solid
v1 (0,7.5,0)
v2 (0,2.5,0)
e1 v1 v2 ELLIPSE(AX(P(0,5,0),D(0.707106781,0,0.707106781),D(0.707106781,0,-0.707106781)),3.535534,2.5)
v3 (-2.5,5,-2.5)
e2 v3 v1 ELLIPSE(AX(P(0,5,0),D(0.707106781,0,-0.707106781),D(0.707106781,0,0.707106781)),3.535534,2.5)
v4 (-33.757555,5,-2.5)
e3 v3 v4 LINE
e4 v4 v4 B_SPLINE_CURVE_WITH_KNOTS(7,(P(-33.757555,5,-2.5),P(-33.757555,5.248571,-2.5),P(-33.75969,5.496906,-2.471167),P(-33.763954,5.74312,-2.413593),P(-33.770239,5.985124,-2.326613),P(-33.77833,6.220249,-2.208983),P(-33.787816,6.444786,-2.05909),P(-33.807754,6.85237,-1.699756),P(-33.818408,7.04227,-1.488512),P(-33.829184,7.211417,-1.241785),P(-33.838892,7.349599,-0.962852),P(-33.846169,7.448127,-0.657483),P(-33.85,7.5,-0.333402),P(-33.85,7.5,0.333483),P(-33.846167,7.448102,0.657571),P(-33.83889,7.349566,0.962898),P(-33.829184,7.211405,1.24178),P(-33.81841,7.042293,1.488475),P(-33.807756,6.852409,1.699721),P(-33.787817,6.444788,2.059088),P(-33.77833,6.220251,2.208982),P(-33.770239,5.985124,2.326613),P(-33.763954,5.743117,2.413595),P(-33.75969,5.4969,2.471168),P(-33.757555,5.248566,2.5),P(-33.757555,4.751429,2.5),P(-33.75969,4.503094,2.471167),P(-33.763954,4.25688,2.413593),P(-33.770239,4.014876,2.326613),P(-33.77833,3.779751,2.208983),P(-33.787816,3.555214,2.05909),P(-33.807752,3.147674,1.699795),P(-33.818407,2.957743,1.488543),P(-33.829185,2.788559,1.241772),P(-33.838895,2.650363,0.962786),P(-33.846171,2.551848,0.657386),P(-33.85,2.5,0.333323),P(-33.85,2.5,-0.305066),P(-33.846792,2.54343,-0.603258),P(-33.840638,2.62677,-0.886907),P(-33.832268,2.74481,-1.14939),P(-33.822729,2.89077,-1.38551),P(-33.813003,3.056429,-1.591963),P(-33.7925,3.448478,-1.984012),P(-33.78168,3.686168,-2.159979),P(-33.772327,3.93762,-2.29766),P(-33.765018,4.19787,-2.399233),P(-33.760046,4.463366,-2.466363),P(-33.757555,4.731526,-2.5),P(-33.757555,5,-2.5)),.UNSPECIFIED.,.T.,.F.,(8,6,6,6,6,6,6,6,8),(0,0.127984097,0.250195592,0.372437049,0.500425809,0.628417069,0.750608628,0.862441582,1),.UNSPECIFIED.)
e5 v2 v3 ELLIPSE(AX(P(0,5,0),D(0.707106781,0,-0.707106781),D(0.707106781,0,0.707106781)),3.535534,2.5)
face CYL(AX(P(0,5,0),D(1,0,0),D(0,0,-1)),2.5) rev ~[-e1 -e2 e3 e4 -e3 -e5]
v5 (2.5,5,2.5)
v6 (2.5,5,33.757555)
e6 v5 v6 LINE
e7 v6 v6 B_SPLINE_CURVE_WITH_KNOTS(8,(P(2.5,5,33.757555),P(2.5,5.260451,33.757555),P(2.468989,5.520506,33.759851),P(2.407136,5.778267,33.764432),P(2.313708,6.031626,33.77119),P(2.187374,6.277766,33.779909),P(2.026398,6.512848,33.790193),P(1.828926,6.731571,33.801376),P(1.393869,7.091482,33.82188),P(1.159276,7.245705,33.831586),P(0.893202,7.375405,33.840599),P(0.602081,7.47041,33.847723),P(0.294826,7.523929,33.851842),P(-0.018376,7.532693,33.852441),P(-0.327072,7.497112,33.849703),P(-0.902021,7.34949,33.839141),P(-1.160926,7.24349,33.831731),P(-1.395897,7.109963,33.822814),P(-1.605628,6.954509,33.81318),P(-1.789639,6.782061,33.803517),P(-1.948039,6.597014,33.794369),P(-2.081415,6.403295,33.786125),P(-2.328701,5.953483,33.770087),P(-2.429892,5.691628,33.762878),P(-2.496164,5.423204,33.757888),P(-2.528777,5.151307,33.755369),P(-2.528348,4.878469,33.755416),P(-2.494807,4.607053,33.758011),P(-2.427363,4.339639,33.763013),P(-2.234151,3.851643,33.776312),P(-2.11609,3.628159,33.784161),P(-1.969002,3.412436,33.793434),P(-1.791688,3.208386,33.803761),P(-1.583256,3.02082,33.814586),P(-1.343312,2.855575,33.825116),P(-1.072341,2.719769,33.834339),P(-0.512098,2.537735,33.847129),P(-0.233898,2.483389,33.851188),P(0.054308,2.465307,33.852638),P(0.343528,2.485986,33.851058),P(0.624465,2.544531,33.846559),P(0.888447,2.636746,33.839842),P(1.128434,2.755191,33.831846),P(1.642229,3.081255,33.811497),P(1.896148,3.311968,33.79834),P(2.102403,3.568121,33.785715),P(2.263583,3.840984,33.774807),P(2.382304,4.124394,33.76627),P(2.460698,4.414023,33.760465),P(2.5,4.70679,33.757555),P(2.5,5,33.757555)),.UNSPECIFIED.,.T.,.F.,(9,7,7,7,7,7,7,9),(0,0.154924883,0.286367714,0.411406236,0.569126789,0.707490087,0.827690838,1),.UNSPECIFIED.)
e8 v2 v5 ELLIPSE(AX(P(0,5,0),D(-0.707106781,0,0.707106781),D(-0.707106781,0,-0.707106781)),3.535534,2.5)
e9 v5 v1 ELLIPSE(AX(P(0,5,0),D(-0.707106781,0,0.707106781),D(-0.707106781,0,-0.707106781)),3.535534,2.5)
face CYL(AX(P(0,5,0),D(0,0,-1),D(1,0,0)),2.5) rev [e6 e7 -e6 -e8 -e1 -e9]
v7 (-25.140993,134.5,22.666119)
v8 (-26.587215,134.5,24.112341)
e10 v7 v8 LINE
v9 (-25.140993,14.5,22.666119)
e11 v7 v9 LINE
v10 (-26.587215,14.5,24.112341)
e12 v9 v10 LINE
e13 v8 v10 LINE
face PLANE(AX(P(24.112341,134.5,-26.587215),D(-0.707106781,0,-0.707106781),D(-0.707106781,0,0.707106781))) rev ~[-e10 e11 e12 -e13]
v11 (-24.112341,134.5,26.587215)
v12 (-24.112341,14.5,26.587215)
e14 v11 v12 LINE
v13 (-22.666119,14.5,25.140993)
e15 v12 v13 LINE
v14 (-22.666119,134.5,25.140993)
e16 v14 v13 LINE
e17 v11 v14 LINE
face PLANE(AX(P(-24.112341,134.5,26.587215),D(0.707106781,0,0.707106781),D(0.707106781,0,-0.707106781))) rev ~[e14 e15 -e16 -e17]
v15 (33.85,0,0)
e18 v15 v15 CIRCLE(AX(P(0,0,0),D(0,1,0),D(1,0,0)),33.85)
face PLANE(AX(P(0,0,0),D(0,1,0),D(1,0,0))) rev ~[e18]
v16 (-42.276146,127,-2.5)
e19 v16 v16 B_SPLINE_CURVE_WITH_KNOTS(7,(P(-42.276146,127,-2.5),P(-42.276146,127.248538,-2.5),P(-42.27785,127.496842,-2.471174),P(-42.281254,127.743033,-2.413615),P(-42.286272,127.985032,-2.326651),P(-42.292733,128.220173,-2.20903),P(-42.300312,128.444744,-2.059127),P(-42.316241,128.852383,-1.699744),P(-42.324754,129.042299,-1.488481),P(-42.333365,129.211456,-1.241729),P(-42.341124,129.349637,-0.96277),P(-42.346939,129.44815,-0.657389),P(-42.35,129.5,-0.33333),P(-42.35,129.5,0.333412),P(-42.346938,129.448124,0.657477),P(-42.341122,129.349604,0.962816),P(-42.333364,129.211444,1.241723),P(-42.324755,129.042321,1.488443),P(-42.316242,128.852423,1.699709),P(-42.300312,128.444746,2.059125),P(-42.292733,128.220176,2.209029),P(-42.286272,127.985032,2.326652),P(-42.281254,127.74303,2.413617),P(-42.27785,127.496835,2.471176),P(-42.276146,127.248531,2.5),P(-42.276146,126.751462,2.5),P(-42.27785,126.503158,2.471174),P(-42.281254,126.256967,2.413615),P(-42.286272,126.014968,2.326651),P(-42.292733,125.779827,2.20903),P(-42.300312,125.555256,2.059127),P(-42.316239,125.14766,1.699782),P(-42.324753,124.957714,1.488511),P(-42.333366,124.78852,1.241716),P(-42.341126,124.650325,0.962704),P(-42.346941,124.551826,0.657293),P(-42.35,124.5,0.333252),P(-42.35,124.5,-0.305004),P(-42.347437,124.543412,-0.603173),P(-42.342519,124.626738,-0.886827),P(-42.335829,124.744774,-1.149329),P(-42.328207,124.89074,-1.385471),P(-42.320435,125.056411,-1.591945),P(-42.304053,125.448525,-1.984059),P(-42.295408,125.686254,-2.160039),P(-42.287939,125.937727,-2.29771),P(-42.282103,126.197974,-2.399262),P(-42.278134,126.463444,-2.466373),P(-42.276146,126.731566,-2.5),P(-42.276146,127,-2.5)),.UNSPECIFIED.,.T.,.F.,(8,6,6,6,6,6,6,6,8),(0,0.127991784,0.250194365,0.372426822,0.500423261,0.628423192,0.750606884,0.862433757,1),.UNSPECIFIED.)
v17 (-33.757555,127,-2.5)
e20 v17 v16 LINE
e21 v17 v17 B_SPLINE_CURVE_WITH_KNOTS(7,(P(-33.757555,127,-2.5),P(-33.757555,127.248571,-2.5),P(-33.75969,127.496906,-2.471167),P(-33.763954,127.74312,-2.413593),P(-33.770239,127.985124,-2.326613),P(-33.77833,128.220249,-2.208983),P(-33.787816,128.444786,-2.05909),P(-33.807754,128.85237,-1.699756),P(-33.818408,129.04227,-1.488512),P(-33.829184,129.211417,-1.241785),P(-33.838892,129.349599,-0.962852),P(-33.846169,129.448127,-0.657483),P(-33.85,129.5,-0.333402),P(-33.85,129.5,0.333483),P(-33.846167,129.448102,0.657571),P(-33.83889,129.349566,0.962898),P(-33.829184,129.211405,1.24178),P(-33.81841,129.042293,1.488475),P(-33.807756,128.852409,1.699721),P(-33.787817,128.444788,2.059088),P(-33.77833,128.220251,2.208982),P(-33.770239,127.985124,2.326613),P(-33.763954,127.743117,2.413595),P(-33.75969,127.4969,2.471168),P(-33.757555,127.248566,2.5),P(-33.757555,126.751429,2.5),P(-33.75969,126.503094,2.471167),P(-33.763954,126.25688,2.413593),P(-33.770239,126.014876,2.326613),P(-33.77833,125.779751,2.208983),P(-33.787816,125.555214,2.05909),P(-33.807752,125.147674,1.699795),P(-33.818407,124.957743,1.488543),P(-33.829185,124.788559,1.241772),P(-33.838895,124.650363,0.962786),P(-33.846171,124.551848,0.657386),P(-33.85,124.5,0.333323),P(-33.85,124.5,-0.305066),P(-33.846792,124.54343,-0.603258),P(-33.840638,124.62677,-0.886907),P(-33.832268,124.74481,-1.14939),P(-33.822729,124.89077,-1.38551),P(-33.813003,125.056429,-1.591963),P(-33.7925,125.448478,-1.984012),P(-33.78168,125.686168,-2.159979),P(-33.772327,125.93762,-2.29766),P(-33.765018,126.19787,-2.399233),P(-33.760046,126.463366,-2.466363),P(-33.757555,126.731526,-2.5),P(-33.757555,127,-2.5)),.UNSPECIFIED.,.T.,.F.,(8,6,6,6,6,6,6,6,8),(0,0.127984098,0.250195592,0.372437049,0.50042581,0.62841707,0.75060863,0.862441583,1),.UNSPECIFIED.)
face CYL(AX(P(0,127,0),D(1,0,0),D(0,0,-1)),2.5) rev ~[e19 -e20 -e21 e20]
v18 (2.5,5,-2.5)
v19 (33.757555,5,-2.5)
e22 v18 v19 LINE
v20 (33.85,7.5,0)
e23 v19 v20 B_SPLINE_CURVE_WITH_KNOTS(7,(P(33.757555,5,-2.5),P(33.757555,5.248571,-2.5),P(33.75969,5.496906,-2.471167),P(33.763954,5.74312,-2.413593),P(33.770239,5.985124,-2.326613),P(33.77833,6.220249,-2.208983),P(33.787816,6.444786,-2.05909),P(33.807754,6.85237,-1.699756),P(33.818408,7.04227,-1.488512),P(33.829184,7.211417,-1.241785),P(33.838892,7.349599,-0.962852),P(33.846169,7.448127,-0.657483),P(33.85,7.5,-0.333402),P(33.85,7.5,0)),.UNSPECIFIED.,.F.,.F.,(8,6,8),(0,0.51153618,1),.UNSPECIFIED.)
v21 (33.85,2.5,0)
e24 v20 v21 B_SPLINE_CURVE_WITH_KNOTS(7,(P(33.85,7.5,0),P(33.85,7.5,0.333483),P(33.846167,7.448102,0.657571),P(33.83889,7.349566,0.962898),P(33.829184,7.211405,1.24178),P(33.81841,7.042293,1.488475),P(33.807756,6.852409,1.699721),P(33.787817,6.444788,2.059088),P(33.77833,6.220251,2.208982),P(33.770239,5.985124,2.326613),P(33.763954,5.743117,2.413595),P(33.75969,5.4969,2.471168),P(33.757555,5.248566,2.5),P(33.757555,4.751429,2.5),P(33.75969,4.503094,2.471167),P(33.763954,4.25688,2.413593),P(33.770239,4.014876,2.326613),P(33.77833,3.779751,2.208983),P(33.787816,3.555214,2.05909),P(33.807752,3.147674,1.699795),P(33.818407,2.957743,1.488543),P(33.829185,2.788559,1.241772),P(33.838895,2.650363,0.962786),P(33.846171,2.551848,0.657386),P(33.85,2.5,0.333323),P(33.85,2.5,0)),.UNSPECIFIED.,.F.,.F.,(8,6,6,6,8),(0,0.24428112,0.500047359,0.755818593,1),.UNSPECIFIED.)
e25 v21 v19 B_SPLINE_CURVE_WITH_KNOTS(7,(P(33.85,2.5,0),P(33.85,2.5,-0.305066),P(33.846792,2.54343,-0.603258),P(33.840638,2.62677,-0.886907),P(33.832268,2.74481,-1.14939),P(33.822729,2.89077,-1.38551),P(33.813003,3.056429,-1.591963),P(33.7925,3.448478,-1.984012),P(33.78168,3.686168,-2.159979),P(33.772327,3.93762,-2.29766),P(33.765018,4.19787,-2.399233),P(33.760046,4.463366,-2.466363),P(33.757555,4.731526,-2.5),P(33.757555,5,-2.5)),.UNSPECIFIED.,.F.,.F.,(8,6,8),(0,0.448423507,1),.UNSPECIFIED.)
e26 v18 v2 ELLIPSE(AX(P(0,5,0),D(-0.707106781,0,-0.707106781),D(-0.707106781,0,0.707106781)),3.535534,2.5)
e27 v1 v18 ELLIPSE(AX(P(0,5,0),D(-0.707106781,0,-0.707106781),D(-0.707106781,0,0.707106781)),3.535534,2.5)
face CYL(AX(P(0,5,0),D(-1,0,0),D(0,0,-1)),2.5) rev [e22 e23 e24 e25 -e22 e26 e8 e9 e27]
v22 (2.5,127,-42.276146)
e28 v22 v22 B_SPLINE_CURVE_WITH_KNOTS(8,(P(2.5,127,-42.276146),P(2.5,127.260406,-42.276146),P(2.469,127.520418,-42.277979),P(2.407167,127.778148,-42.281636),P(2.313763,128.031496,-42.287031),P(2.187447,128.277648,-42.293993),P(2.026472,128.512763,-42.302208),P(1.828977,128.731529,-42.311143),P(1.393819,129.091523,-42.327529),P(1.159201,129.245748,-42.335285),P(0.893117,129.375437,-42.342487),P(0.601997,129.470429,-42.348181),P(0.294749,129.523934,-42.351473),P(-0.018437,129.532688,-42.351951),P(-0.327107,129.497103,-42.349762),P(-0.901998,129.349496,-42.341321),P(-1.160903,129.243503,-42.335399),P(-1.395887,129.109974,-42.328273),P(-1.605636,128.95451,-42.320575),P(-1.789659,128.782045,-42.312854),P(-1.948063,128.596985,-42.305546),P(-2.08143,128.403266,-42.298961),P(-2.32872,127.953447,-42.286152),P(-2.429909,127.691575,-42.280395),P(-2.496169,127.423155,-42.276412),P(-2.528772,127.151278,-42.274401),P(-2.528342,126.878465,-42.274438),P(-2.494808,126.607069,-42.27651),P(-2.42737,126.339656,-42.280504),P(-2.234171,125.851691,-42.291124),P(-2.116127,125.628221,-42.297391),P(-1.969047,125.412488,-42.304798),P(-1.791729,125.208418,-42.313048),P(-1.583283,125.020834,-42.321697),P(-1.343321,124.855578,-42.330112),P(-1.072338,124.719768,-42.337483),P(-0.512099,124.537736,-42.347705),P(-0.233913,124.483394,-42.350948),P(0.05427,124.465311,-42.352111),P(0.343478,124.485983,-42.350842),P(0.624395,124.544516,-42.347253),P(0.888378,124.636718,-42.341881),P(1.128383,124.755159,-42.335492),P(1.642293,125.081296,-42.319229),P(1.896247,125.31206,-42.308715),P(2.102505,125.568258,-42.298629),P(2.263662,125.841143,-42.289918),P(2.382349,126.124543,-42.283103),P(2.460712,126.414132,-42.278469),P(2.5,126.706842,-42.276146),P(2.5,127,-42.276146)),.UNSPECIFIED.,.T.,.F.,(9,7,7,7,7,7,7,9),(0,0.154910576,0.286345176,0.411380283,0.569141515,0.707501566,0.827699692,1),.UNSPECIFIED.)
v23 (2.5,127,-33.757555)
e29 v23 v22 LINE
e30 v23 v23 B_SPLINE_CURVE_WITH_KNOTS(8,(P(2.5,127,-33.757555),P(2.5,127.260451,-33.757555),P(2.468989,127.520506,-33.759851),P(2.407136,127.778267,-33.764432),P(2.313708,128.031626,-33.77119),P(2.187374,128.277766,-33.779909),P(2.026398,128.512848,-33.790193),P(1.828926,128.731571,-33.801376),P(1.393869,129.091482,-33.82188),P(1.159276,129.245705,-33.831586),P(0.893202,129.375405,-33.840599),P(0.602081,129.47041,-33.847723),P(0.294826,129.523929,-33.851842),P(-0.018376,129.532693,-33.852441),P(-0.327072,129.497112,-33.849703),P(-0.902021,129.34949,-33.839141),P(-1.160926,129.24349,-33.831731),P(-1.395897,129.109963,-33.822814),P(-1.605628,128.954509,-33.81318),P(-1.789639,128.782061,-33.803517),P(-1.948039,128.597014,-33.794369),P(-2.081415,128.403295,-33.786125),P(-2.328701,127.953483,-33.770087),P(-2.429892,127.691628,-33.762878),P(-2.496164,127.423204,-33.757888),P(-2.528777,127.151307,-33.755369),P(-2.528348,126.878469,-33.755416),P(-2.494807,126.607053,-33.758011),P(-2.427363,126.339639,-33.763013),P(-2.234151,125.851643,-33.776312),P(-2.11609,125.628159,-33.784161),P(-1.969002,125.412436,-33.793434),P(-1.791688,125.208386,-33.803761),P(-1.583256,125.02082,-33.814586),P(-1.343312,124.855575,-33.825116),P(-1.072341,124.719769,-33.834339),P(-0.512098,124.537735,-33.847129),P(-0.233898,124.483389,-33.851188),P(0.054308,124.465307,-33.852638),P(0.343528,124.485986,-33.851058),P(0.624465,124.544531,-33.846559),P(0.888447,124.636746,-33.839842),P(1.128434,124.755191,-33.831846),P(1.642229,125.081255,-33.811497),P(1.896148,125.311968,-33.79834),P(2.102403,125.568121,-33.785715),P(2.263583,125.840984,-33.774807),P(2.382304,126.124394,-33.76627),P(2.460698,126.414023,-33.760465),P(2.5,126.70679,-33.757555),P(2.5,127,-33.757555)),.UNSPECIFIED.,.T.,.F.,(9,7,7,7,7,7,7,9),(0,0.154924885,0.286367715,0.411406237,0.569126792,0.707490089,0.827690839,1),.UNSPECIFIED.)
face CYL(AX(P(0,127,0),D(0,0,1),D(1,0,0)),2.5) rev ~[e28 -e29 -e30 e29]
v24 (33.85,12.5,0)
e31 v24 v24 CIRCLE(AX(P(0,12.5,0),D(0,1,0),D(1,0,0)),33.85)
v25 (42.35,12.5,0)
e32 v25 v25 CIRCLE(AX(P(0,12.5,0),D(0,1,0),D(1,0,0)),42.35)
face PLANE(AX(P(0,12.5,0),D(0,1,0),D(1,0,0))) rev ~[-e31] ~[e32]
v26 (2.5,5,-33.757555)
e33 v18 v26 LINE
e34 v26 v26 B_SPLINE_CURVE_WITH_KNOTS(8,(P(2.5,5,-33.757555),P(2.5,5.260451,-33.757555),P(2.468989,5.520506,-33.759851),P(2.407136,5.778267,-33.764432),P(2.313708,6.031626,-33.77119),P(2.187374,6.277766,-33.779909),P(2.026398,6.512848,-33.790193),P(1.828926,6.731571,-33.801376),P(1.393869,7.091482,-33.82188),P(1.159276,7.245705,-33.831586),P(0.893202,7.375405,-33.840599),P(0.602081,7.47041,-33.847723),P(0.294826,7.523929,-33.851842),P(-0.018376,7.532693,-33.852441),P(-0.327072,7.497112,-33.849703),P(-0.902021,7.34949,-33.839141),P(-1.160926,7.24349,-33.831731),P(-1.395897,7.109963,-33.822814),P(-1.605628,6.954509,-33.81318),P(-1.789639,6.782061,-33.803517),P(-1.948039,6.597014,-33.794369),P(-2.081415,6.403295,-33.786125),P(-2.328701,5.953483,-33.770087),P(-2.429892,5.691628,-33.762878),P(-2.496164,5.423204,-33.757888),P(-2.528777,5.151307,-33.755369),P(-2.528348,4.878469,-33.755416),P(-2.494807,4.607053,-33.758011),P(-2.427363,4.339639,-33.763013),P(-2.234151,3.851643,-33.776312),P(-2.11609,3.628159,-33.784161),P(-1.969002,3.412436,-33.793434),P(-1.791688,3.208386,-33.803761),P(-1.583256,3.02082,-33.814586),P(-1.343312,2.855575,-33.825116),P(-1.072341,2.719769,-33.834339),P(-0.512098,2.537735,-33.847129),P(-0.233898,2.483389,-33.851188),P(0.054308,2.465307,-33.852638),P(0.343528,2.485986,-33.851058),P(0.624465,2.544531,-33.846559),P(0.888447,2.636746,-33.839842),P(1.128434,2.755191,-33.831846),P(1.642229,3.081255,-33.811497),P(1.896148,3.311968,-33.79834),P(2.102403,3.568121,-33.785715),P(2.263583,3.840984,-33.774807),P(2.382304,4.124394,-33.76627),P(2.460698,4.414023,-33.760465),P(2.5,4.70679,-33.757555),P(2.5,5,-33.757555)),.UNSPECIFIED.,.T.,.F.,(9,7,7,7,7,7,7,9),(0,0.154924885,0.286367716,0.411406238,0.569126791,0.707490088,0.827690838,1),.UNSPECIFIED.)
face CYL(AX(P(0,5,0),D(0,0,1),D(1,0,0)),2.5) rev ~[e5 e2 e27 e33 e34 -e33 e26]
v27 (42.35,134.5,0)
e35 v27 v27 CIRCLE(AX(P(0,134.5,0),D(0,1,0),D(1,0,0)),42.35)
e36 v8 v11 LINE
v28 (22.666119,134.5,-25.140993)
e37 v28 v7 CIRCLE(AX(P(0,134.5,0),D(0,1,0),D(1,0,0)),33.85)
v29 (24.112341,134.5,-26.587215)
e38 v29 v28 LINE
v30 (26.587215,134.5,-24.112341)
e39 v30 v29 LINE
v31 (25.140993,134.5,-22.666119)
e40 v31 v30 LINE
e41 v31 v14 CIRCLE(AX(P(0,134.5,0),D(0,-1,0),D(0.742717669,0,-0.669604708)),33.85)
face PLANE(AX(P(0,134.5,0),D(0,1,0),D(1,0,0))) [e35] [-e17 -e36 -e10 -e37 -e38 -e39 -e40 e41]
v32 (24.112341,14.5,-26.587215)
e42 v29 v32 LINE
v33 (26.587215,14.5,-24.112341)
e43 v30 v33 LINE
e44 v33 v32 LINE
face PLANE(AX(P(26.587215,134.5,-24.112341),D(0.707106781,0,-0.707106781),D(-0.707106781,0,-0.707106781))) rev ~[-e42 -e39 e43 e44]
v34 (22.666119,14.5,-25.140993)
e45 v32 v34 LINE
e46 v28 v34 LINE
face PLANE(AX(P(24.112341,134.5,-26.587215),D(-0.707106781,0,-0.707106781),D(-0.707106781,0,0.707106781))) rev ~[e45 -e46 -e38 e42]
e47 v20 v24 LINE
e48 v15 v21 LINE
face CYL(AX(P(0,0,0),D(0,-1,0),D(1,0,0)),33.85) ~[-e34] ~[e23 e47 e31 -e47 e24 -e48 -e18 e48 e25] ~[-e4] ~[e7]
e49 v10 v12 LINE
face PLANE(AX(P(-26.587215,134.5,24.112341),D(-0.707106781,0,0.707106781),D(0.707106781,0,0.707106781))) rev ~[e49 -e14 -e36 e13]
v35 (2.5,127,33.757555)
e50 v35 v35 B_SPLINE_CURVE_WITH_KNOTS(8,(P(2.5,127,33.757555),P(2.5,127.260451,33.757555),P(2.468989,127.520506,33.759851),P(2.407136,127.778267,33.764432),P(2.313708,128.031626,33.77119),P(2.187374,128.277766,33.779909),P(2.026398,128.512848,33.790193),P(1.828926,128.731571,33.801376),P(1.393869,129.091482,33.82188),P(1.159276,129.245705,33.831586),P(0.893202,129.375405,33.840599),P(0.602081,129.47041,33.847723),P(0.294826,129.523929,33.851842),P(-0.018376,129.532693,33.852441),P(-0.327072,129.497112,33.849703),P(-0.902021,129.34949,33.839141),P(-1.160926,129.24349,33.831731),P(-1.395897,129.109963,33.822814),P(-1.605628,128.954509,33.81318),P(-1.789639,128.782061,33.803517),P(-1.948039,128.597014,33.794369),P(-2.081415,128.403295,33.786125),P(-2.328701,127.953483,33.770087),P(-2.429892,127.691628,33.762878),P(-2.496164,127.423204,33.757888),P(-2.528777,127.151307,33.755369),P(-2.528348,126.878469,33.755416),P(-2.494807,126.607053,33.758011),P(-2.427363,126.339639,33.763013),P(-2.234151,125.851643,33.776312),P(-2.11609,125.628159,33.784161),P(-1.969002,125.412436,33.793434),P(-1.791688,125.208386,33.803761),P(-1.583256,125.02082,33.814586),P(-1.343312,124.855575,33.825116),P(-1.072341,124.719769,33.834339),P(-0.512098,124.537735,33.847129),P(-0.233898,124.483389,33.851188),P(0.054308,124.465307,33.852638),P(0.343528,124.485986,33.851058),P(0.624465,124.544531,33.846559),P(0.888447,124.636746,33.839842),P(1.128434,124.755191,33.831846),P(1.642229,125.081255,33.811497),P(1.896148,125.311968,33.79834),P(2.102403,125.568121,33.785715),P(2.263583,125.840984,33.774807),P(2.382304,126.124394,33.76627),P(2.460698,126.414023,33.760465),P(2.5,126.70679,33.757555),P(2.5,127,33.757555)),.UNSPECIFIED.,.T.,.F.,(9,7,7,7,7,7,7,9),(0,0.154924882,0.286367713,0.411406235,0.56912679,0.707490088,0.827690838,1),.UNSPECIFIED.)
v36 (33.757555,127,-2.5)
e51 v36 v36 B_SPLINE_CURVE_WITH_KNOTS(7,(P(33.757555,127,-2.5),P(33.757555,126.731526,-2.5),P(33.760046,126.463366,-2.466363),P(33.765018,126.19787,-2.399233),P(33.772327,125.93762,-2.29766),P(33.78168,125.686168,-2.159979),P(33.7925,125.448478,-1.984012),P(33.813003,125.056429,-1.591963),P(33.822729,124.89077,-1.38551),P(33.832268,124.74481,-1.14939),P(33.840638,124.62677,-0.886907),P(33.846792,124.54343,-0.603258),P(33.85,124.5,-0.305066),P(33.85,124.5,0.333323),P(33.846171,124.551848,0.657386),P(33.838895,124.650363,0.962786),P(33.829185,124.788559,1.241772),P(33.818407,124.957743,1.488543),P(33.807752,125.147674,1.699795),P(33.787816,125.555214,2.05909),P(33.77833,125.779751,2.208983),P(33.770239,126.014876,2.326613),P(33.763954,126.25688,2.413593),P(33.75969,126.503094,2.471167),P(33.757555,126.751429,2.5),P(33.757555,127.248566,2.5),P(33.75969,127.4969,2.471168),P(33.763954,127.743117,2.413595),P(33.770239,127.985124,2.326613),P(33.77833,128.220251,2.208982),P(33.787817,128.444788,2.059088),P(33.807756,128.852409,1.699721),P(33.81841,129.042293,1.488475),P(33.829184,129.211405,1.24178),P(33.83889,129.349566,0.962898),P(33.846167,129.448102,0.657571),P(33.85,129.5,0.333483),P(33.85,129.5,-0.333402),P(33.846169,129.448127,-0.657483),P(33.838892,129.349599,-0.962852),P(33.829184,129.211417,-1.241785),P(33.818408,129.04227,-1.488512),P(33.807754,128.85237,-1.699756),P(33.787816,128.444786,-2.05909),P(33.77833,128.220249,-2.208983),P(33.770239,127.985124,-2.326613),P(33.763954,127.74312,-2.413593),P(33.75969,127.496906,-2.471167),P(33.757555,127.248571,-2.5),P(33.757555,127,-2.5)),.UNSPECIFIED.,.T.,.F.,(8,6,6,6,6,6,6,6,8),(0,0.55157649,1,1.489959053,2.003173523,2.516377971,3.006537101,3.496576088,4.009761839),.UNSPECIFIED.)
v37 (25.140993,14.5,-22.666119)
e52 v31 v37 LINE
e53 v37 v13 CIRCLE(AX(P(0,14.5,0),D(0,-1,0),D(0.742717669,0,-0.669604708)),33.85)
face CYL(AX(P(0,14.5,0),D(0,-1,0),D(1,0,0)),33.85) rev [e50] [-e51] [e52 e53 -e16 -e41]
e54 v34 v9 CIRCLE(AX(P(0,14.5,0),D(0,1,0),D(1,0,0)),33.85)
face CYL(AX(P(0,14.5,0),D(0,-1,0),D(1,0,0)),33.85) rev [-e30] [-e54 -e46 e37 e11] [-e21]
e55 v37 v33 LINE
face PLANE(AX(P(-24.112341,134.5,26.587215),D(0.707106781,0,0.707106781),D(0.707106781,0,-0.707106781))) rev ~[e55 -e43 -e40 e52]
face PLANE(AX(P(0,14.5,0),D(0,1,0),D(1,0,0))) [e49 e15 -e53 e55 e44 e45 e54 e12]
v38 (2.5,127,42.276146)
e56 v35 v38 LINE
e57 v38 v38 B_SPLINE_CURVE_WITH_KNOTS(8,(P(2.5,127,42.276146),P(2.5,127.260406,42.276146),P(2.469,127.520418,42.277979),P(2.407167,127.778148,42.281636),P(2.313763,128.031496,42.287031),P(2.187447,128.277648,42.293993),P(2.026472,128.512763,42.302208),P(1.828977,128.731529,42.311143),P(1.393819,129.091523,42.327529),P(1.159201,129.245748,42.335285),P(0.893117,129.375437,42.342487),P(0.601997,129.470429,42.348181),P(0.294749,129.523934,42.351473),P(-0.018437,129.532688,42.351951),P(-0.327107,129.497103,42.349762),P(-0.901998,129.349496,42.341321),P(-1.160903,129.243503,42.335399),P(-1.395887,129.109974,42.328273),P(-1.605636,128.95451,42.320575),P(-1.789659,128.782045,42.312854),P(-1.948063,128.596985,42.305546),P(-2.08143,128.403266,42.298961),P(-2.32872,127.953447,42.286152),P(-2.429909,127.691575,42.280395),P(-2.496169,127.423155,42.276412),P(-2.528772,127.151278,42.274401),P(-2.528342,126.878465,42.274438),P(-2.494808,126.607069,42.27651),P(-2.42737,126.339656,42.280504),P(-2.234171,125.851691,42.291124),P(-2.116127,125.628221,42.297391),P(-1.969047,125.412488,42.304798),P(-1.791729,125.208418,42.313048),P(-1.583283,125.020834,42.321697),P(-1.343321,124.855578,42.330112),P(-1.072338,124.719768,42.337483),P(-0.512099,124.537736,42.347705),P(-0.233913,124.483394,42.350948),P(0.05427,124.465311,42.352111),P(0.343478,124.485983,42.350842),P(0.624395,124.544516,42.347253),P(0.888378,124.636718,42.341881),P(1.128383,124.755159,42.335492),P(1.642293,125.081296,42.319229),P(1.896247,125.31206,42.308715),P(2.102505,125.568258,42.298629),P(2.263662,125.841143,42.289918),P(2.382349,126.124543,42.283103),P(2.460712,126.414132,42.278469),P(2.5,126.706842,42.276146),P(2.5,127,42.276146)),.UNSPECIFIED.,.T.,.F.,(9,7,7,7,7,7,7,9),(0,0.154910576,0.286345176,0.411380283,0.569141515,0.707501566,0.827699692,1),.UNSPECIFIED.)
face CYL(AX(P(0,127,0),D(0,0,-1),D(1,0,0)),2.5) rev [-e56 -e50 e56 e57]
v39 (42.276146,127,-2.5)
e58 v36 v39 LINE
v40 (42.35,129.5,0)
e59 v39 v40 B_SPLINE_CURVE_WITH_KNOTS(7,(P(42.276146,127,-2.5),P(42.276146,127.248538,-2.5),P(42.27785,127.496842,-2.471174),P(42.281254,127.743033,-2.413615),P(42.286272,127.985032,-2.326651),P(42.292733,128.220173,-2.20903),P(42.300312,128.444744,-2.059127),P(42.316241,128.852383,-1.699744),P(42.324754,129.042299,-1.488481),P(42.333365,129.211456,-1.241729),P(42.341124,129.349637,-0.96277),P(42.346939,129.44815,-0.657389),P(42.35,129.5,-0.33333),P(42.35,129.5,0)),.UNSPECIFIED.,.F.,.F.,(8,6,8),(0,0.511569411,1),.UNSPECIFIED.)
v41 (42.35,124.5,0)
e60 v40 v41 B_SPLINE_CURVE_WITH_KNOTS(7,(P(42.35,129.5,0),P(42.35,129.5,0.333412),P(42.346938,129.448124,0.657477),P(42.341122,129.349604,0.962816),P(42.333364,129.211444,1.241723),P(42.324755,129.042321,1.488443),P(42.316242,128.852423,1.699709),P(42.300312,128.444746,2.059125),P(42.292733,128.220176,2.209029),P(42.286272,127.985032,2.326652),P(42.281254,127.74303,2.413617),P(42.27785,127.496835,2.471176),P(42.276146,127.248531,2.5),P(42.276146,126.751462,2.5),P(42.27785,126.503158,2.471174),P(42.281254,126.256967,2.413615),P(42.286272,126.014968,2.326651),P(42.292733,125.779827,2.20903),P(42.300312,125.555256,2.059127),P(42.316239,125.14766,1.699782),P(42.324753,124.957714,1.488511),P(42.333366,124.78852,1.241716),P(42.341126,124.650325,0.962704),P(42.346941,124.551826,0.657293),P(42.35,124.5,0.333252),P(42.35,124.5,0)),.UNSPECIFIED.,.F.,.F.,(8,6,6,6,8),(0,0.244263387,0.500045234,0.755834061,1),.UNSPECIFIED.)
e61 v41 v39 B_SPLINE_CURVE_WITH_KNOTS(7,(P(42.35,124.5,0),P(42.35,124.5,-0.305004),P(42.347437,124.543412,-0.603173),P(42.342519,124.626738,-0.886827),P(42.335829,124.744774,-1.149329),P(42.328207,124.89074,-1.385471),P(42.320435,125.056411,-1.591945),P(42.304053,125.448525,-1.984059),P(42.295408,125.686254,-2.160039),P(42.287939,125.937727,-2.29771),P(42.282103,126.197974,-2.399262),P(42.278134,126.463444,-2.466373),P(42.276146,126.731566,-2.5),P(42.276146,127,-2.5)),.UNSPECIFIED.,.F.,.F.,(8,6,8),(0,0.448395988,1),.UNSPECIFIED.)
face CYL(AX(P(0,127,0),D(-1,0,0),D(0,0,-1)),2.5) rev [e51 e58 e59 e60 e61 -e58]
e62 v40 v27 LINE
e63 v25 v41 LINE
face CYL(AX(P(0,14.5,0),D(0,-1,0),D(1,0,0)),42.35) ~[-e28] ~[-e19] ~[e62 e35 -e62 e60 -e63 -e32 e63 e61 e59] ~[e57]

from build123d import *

# Parameters (mm, degrees)
SKETCH1_R               = 33.85
BOSS_EXTRUDE1_DEPTH     = 12.5
SKETCH2_R               = 2.5
CUT_EXTRUDE1_DEPTH      = 34.85
CUT_EXTRUDE1_DEPTH_BACK = 34.85
SKETCH3_R               = 2.5
CUT_EXTRUDE2_DEPTH      = 34.8500001
CUT_EXTRUDE2_DEPTH_BACK = 34.8500001
SKETCH4_R               = 42.35
BOSS_EXTRUDE2_DEPTH     = 2
SKETCH5_R               = 42.35
SKETCH5_R_2             = 33.85
BOSS_EXTRUDE3_DEPTH     = 120
SKETCH6_R               = 2.5
CUT_EXTRUDE3_DEPTH      = 43.35
CUT_EXTRUDE3_DEPTH_BACK = 43.35
SKETCH7_R               = 2.5
CUT_EXTRUDE4_DEPTH      = 43.3500001
CUT_EXTRUDE4_DEPTH_BACK = 43.3500001
CUT_EXTRUDE5_DEPTH      = 120


with BuildPart() as part:
    # Sketch1 → Boss-Extrude1 (new body)
    with BuildSketch(Plane(origin=(0, 0, 0), x_dir=(1, 0, 0), z_dir=(0, 1, 0))):
        Circle(SKETCH1_R)
    extrude(amount=BOSS_EXTRUDE1_DEPTH)

    # Sketch2 → Cut-Extrude1 (cut, two sides)
    with BuildSketch(Plane(origin=(0, 0, 0), x_dir=(0, 0, -1), z_dir=(1, 0, 0))) as cut_extrude1_sk:
        with Locations((0, 5)):
            Circle(SKETCH2_R)
    extrude(amount=CUT_EXTRUDE1_DEPTH, mode=Mode.SUBTRACT)
    extrude(cut_extrude1_sk.sketch, amount=-CUT_EXTRUDE1_DEPTH_BACK, mode=Mode.SUBTRACT)

    # Sketch3 → Cut-Extrude2 (cut, two sides)
    with BuildSketch(Plane.XY) as cut_extrude2_sk:
        with Locations((0, 5)):
            Circle(SKETCH3_R)
    extrude(amount=CUT_EXTRUDE2_DEPTH, mode=Mode.SUBTRACT)
    extrude(cut_extrude2_sk.sketch, amount=-CUT_EXTRUDE2_DEPTH_BACK, mode=Mode.SUBTRACT)

    # Sketch4 → Boss-Extrude2 (add)
    with BuildSketch(Plane(origin=(0, 12.5, 0), x_dir=(1, 0, 0), z_dir=(0, 1, 0))):
        Circle(SKETCH4_R)
    extrude(amount=BOSS_EXTRUDE2_DEPTH)

    # Sketch5 → Boss-Extrude3 (add)
    with BuildSketch(Plane(origin=(0, 14.5, 0), x_dir=(1, 0, 0), z_dir=(0, 1, 0))):
        Circle(SKETCH5_R)
        Circle(SKETCH5_R_2, mode=Mode.SUBTRACT)
    extrude(amount=BOSS_EXTRUDE3_DEPTH)

    # Sketch6 → Cut-Extrude3 (cut, two sides)
    with BuildSketch(Plane(origin=(0, 0, 0), x_dir=(0, 0, -1), z_dir=(1, 0, 0))) as cut_extrude3_sk:
        with Locations((0, 127)):
            Circle(SKETCH6_R)
    extrude(amount=CUT_EXTRUDE3_DEPTH, mode=Mode.SUBTRACT)
    extrude(cut_extrude3_sk.sketch, amount=-CUT_EXTRUDE3_DEPTH_BACK, mode=Mode.SUBTRACT)

    # Sketch7 → Cut-Extrude4 (cut, two sides)
    with BuildSketch(Plane.XY) as cut_extrude4_sk:
        with Locations((0, 127)):
            Circle(SKETCH7_R)
    extrude(amount=CUT_EXTRUDE4_DEPTH, mode=Mode.SUBTRACT)
    extrude(cut_extrude4_sk.sketch, amount=-CUT_EXTRUDE4_DEPTH_BACK, mode=Mode.SUBTRACT)

    # Sketch9 → Cut-Extrude5 (cut)
    with BuildSketch(Plane(origin=(0, 134.5, 0), x_dir=(1, 0, 0), z_dir=(0, 1, 0))):
        Polygon((24.112341238, 26.587214973), (-26.587214973, -24.112341238), (-24.112341238, -26.587214973), (26.587214973, 24.112341238), align=None)
    extrude(amount=-CUT_EXTRUDE5_DEPTH, mode=Mode.SUBTRACT)


solid = part.part
